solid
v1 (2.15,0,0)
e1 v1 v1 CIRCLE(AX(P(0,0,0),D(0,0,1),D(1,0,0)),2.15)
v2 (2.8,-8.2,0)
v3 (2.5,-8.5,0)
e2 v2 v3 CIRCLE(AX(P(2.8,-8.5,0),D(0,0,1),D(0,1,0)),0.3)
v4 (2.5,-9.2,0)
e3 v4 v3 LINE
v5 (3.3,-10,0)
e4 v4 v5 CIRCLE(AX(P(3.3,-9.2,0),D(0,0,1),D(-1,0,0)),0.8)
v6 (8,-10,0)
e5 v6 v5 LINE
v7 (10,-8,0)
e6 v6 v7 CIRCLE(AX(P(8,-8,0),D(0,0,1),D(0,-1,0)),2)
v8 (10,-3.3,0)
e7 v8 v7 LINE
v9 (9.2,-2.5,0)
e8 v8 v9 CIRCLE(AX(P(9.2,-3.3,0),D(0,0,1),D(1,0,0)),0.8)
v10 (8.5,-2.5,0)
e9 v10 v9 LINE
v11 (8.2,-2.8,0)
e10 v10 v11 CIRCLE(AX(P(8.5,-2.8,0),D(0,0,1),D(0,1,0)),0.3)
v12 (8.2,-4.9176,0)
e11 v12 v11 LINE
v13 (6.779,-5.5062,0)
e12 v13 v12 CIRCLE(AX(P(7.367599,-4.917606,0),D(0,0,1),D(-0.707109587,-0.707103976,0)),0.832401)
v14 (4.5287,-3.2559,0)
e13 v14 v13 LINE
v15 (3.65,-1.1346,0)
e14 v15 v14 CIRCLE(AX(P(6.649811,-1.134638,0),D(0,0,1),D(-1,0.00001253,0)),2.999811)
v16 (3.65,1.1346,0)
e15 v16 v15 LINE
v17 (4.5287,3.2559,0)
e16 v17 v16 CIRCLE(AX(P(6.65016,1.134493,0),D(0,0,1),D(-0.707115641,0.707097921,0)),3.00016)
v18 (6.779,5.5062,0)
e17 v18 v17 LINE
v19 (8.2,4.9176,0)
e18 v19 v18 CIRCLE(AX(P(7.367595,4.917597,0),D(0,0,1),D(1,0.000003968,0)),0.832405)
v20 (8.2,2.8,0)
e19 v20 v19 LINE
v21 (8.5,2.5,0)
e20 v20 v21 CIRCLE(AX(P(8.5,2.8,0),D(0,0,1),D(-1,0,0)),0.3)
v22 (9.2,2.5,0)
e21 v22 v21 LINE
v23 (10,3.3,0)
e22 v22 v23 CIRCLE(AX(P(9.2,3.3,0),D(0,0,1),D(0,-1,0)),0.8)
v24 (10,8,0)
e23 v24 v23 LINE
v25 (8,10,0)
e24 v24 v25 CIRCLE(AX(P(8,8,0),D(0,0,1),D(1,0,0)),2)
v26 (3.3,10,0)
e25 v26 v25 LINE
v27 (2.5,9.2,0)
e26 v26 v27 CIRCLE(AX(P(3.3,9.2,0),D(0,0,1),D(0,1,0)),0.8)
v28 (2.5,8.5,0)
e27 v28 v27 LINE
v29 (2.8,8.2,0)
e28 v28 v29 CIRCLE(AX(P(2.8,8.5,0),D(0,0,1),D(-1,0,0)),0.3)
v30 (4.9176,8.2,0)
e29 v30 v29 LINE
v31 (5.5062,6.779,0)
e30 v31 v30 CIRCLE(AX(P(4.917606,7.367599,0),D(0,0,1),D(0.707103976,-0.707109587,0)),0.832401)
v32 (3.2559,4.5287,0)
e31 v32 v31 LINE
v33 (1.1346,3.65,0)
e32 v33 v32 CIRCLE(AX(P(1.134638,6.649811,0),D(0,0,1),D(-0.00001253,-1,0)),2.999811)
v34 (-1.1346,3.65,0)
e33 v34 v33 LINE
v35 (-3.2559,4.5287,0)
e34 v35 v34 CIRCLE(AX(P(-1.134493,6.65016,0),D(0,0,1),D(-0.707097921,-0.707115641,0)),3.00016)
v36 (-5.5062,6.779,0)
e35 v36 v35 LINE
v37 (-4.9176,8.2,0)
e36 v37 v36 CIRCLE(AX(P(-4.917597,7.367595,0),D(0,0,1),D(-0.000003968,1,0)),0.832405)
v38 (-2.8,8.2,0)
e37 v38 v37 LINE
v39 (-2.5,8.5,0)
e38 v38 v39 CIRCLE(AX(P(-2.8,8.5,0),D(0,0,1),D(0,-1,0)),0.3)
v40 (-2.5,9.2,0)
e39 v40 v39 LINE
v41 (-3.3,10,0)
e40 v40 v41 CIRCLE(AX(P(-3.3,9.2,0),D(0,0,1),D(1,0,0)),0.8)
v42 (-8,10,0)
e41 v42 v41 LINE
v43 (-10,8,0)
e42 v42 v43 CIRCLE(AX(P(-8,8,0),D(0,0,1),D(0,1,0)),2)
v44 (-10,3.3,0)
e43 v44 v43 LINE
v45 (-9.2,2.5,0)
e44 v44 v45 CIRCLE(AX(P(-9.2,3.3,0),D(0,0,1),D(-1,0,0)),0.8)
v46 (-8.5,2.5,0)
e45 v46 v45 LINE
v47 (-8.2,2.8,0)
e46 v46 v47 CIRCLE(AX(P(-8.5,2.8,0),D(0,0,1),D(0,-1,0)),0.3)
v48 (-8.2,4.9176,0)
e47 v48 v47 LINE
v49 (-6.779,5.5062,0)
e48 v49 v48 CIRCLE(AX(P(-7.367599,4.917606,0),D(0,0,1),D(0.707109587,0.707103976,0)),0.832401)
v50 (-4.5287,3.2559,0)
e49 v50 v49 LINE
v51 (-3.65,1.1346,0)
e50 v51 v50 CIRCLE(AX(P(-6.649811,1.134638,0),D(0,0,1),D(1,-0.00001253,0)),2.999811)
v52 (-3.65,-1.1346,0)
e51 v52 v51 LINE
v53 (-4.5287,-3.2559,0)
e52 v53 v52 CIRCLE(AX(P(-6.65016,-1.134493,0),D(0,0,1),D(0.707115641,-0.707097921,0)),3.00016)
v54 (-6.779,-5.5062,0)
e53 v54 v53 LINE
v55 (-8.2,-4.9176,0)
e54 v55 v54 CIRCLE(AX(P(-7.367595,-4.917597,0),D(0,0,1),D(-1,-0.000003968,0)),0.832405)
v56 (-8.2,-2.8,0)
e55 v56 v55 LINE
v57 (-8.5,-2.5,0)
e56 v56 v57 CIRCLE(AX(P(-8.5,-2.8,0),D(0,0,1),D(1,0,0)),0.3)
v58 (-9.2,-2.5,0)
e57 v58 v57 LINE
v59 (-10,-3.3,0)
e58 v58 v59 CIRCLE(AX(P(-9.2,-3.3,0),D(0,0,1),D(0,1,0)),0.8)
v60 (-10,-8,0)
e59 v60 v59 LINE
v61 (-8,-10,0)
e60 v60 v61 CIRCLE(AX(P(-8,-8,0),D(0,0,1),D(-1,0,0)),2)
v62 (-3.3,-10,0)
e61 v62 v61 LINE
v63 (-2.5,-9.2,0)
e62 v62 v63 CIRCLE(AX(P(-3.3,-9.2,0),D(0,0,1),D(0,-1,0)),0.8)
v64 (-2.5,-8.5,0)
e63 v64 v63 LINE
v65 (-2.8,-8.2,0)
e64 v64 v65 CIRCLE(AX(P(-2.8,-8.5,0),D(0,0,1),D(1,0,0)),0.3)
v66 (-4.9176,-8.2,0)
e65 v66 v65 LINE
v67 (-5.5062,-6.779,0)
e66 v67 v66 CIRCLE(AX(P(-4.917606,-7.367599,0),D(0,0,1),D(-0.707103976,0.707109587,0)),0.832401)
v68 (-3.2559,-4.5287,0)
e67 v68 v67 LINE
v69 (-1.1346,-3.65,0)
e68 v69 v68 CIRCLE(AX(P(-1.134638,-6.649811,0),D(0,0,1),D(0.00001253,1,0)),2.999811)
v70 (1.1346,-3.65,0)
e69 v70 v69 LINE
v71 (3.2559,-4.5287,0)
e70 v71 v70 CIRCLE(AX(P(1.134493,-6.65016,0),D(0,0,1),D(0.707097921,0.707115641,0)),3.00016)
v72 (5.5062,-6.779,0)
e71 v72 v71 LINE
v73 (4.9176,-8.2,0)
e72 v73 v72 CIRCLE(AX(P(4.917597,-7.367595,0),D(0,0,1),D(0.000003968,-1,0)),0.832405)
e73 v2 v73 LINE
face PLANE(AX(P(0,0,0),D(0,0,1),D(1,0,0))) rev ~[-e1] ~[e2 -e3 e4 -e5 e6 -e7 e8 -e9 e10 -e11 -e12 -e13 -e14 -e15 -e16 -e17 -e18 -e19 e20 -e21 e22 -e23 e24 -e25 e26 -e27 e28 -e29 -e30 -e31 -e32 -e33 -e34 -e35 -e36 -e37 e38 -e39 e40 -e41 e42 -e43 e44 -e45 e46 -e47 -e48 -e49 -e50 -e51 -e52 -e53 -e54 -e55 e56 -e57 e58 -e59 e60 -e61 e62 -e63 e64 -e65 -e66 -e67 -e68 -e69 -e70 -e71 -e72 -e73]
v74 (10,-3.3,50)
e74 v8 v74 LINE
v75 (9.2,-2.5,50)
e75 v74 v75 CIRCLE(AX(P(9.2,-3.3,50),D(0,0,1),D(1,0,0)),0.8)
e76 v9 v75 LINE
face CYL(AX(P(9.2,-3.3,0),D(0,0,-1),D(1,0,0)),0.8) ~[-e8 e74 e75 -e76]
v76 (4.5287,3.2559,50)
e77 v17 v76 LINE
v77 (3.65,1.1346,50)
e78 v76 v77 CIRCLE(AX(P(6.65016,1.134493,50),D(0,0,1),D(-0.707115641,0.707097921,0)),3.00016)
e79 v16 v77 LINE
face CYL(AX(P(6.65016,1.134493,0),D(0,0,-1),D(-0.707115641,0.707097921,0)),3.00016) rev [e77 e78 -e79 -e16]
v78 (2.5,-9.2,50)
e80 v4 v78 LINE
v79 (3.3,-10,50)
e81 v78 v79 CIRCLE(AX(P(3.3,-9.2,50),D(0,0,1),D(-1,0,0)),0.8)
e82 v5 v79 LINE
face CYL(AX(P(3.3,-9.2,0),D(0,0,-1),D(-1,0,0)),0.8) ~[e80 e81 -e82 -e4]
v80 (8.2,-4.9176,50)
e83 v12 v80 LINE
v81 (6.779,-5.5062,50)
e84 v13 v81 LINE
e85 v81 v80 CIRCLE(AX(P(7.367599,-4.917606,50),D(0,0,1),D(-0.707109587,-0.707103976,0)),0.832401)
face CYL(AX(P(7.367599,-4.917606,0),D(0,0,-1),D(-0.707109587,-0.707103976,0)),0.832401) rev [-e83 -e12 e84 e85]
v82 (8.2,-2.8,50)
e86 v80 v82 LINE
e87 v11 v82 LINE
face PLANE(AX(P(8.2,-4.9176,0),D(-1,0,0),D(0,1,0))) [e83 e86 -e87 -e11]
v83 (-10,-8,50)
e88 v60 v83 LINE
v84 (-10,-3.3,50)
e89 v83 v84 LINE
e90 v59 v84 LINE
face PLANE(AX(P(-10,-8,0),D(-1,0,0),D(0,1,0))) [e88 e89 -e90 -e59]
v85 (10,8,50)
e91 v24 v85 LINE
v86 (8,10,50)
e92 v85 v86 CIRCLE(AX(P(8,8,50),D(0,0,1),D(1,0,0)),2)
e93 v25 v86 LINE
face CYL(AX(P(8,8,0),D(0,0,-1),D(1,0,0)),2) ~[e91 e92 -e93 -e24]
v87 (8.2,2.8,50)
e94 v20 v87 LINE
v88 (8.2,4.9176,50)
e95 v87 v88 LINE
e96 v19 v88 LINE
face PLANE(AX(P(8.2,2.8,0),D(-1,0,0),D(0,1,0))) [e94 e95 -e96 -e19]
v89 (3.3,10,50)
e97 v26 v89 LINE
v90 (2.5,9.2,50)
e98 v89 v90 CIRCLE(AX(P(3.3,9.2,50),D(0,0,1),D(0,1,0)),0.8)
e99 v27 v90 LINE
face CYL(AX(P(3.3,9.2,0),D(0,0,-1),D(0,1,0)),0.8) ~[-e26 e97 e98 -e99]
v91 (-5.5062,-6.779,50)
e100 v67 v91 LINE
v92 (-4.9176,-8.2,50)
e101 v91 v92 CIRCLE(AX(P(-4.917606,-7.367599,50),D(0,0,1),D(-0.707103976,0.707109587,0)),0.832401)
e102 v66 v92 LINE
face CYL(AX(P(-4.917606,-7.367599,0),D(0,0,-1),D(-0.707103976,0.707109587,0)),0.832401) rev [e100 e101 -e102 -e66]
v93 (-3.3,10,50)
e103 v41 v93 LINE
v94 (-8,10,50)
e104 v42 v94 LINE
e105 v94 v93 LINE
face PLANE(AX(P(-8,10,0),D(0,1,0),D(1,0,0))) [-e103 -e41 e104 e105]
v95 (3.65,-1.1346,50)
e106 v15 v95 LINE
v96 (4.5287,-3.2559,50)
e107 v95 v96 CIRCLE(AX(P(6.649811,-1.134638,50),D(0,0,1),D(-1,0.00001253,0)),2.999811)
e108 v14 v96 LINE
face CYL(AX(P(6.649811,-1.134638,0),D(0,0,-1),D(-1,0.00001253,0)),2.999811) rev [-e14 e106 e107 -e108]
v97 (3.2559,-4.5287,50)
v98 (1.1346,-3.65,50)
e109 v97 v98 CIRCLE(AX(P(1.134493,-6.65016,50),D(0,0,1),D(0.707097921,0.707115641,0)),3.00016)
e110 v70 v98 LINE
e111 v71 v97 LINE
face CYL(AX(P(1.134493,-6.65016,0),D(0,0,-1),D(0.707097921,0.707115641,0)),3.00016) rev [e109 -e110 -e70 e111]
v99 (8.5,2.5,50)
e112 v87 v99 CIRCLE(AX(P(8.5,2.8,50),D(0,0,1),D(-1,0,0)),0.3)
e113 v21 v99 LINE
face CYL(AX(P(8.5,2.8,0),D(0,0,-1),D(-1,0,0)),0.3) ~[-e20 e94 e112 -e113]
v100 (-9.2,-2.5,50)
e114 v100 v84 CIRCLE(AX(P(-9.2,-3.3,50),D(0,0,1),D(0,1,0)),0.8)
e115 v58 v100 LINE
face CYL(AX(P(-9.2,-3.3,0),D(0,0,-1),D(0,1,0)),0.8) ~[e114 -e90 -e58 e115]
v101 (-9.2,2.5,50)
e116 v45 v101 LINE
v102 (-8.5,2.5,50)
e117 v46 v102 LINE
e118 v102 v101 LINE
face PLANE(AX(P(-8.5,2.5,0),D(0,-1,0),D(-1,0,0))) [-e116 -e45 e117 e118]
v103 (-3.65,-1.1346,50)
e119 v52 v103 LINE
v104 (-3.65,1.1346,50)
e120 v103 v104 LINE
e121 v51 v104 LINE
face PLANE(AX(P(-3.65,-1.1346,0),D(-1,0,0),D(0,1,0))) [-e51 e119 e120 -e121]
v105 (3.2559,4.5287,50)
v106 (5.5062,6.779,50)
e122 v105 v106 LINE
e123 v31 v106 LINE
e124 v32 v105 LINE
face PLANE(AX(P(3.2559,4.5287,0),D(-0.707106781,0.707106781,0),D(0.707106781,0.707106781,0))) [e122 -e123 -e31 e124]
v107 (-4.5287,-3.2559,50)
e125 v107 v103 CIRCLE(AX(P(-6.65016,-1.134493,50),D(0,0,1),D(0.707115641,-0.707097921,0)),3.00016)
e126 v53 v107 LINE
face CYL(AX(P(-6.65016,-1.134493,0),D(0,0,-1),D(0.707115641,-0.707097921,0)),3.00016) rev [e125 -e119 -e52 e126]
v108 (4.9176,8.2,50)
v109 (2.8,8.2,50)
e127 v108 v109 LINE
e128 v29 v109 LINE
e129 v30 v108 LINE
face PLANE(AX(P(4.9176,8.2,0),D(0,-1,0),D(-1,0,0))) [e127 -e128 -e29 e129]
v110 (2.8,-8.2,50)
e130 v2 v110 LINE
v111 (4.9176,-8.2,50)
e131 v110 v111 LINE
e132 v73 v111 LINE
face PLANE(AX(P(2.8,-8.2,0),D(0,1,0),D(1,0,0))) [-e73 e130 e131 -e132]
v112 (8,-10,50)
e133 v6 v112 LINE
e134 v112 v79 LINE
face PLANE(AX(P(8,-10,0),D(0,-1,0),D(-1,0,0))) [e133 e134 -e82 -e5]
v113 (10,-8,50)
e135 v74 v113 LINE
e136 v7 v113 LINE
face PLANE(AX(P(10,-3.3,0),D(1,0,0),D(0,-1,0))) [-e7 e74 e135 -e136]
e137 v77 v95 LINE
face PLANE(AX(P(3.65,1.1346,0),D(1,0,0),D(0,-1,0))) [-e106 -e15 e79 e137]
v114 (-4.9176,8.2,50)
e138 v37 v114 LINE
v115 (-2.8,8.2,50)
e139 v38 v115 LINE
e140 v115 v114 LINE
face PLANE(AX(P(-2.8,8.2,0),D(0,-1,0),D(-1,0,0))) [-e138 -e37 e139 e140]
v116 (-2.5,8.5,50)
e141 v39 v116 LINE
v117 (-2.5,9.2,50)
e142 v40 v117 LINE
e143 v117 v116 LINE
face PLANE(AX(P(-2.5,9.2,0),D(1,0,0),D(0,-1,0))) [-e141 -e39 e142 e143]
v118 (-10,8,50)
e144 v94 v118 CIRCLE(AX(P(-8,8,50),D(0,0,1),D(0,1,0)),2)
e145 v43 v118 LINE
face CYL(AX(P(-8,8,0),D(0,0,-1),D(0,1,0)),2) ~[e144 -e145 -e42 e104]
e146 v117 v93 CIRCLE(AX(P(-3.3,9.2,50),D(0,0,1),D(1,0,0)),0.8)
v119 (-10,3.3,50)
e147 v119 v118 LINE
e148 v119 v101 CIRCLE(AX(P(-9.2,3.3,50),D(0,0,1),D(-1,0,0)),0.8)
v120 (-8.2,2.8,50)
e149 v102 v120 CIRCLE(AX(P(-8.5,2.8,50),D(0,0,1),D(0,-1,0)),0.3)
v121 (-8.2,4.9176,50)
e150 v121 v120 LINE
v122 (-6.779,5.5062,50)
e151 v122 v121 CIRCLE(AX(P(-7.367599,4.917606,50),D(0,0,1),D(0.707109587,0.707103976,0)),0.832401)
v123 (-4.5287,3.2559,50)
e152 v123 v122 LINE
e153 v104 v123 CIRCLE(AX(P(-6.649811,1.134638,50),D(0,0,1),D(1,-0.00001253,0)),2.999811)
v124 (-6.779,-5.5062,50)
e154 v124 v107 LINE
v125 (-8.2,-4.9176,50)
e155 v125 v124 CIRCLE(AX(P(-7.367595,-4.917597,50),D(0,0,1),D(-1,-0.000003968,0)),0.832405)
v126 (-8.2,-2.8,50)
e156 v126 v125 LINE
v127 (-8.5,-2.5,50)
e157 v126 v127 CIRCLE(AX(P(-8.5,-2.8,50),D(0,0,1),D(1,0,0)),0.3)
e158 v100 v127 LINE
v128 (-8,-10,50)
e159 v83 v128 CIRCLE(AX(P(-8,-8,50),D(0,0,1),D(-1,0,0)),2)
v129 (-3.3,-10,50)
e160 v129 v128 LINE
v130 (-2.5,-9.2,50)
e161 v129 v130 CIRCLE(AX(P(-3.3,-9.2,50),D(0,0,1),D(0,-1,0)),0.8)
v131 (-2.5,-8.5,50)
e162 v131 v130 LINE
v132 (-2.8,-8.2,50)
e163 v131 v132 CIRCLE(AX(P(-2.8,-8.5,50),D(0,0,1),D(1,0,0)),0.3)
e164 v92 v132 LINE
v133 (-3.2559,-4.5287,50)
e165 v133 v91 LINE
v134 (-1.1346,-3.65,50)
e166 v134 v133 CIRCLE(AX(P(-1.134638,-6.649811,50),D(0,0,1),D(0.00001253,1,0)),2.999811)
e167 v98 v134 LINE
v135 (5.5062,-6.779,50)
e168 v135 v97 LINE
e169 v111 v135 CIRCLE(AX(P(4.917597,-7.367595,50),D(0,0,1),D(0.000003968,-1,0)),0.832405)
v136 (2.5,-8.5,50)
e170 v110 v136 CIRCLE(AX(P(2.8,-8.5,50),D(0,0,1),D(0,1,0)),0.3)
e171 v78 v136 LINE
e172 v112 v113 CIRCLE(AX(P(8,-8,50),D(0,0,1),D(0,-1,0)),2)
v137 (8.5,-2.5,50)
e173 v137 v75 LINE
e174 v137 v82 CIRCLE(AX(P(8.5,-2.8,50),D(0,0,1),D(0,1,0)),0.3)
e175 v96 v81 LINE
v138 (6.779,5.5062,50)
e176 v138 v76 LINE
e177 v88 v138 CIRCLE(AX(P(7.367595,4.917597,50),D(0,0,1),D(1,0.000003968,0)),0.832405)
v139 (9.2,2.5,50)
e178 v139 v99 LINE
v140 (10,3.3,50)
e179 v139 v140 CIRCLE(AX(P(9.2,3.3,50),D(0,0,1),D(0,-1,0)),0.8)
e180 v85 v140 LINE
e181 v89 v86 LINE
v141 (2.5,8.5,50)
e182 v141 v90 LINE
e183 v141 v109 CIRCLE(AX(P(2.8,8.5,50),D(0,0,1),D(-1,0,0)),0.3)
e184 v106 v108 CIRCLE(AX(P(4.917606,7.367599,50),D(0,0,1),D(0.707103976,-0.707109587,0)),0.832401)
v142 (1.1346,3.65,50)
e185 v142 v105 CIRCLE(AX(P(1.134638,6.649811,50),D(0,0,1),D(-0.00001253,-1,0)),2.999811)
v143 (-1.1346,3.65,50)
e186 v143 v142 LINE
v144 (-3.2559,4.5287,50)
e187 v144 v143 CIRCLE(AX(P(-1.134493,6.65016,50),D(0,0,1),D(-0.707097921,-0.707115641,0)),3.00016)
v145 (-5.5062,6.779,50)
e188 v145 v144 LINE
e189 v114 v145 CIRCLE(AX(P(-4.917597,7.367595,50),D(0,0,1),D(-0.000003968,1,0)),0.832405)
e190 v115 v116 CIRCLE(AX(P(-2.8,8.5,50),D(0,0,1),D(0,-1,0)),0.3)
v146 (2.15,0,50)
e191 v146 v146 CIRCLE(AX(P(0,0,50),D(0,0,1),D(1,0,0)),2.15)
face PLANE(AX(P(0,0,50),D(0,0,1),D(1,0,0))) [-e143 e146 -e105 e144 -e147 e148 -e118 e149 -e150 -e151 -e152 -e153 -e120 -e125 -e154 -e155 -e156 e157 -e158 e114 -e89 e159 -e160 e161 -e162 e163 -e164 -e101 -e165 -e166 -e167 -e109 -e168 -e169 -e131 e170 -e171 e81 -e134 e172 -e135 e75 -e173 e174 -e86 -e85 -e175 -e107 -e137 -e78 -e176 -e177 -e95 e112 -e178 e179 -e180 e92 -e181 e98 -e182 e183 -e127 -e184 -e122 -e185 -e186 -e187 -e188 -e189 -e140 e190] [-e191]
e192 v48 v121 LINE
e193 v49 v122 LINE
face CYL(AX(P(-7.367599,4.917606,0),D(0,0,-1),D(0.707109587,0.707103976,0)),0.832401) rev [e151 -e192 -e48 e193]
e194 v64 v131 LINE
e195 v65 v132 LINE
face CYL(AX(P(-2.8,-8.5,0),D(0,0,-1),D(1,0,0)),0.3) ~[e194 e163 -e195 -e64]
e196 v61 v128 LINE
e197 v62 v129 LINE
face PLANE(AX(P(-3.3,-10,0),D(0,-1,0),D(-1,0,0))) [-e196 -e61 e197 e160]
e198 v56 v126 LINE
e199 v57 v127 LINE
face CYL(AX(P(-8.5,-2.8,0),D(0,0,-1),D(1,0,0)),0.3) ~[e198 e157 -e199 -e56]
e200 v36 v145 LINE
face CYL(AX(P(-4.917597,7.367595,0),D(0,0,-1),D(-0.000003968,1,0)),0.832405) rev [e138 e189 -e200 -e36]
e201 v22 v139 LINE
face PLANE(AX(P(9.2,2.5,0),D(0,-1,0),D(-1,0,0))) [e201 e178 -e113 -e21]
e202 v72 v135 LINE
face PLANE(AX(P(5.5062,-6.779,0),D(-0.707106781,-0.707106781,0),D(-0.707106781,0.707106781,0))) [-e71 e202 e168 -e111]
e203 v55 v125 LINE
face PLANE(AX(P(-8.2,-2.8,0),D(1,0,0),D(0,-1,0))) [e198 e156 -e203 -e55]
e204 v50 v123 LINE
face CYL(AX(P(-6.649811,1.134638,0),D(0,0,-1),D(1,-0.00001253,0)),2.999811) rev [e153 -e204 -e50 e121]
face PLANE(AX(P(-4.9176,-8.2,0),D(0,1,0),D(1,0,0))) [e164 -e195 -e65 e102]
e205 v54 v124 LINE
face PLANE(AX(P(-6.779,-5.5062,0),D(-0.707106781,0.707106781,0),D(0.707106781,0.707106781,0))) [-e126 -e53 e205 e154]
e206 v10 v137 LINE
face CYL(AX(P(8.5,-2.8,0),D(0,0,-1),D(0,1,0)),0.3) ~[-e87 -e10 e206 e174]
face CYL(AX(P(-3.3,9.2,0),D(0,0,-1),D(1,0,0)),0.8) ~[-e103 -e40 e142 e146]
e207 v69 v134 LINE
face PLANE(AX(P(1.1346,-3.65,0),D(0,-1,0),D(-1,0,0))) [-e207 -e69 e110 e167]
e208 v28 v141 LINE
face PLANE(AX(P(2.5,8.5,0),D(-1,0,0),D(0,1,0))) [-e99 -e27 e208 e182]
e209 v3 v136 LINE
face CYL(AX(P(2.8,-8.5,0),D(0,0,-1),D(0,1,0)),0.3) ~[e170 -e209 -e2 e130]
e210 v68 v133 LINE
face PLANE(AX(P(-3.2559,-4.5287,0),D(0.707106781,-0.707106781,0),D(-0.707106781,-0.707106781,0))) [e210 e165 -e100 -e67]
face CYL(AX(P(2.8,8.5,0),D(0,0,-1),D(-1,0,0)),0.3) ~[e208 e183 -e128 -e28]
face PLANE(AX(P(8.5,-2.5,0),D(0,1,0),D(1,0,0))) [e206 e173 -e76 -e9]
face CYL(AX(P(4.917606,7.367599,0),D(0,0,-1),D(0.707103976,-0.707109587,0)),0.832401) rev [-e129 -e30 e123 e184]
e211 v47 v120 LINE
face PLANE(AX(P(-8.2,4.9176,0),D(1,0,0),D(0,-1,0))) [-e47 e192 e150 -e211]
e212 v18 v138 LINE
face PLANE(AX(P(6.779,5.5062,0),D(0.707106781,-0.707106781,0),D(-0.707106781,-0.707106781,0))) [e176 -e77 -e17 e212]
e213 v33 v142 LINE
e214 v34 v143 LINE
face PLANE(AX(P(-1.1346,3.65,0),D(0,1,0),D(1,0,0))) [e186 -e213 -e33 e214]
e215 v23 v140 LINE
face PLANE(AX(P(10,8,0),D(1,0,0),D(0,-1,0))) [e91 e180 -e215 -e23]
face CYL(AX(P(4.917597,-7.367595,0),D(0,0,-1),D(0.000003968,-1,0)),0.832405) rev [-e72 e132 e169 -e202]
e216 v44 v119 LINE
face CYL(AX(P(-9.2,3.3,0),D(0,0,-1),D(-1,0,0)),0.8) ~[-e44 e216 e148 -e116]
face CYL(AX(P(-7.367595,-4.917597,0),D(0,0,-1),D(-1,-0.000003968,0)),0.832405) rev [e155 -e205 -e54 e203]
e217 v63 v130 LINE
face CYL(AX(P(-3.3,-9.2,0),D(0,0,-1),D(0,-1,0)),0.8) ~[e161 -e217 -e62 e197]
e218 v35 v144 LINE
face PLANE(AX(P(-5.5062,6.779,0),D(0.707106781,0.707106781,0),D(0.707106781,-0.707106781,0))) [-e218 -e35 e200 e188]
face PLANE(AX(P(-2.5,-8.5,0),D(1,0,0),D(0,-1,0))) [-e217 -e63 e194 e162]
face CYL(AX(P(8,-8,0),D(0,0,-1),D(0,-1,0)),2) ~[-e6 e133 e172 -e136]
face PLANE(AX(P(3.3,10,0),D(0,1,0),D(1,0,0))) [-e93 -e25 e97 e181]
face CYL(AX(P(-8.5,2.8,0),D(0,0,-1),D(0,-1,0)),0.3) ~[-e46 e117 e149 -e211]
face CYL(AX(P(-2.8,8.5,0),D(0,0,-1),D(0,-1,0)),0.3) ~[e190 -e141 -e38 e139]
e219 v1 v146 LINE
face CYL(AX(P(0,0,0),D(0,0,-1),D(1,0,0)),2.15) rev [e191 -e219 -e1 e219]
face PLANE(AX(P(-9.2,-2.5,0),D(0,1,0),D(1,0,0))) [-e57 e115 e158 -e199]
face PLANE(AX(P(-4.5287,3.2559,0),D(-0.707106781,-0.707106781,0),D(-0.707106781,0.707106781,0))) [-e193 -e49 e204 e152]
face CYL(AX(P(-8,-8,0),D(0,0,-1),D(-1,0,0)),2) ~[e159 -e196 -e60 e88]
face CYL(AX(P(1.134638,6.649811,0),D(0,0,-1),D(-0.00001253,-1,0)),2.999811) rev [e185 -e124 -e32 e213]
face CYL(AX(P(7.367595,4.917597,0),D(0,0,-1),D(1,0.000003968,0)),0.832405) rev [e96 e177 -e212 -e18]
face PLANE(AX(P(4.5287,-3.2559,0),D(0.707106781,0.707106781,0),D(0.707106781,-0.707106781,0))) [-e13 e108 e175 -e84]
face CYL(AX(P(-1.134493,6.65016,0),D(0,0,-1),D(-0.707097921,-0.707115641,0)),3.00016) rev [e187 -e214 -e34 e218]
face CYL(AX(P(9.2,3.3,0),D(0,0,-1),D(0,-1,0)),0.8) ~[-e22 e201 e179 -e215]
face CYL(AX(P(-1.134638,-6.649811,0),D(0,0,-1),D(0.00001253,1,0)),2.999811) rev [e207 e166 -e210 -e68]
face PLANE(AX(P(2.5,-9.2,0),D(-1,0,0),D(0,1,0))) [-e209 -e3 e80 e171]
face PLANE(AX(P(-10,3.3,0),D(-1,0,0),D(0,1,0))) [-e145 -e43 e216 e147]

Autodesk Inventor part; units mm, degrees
ref_plane "YZ Plane" through (0, 0, 0) normal (1, 0, 0) x (0, 1, 0)
ref_plane "Startebene" through (0, 0, 0) normal (0, 0, 1) x (1, 0, 0)
ref_plane "Endebene" through (0, 0, 50) normal (0, 0, 1) x (1, 0, 0)
sketch "Skizze3" plane through (0, 0, 0) normal (0, 0, 1) x (1, 0, 0)
  arc A0 (-4.5287, -3.2559) -> (-3.65, -1.1346) centre (-6.65, -1.1346) ccw
  line L0 (-3.65, -1.1346) -> (-3.65, 1.1346)
  circle A1 centre (0, 0) radius 2.15
  line L1 (1.1346, -3.65) -> (-1.1346, -3.65)
  arc A2 (-1.1346, -3.65) -> (-3.2559, -4.5287) centre (-1.1346, -6.65) ccw
  line L2 (-6.779, -5.5062) -> (-4.5287, -3.2559)
  line L3 (-3.2559, -4.5287) -> (-5.5062, -6.779)
  arc A3 (-2.5, -8.5) -> (-2.8, -8.2) centre (-2.8, -8.5) ccw
  line L4 (-2.5, -8.5) -> (-2.5, -9.2)
  line L5 (-4.9176, -8.2) -> (-2.8, -8.2)
  arc A4 (-5.5062, -6.779) -> (-4.9176, -8.2) centre (-4.9176, -7.3676) ccw
  arc A5 (-3.3, -10) -> (-2.5, -9.2) centre (-3.3, -9.2) ccw
  line L6 (-3.3, -10) -> (-8, -10)
  line L7 (10, -3.3) -> (10, -8)
  line L8 (5.5062, -6.779) -> (3.2559, -4.5287)
  arc A6 (6.779, -5.5062) -> (8.2, -4.9176) centre (7.3676, -4.9176) ccw
  arc A7 (3.2559, -4.5287) -> (1.1346, -3.65) centre (1.1346, -6.65) ccw
  line L9 (4.5287, -3.2559) -> (6.779, -5.5062)
  arc A8 (3.65, -1.1346) -> (4.5287, -3.2559) centre (6.65, -1.1346) ccw
  arc A9 (8.5, -2.5) -> (8.2, -2.8) centre (8.5, -2.8) ccw
  line L10 (3.65, 1.1346) -> (3.65, -1.1346)
  line L11 (8.5, -2.5) -> (9.2, -2.5)
  arc A10 (10, -3.3) -> (9.2, -2.5) centre (9.2, -3.3) ccw
  line L12 (8.2, -4.9176) -> (8.2, -2.8)
  line L13 (2.5, 8.5) -> (2.5, 9.2)
  arc A11 (2.5, 8.5) -> (2.8, 8.2) centre (2.8, 8.5) ccw
  arc A12 (1.1346, 3.65) -> (3.2559, 4.5287) centre (1.1346, 6.65) ccw
  line L14 (-1.1346, 3.65) -> (1.1346, 3.65)
  arc A13 (3.3, 10) -> (2.5, 9.2) centre (3.3, 9.2) ccw
  line L15 (4.9176, 8.2) -> (2.8, 8.2)
  arc A14 (4.5287, 3.2559) -> (3.65, 1.1346) centre (6.65, 1.1346) ccw
  line L16 (3.2559, 4.5287) -> (5.5062, 6.779)
  arc A15 (5.5062, 6.779) -> (4.9176, 8.2) centre (4.9176, 7.3676) ccw
  line L17 (6.779, 5.5062) -> (4.5287, 3.2559)
  line L18 (3.3, 10) -> (8, 10)
  arc A16 (10, 8) -> (8, 10) centre (8, 8) ccw
  line L19 (8.2, 2.8) -> (8.2, 4.9176)
  line L20 (10, 8) -> (10, 3.3)
  arc A17 (8.2, 4.9176) -> (6.779, 5.5062) centre (7.3676, 4.9176) ccw
  line L21 (-2.8, 8.2) -> (-4.9176, 8.2)
  line L22 (-2.5, 9.2) -> (-2.5, 8.5)
  arc A18 (-2.5, 9.2) -> (-3.3, 10) centre (-3.3, 9.2) ccw
  arc A19 (-2.8, 8.2) -> (-2.5, 8.5) centre (-2.8, 8.5) ccw
  arc A20 (-3.65, 1.1346) -> (-4.5287, 3.2559) centre (-6.65, 1.1346) ccw
  arc A21 (-3.2559, 4.5287) -> (-1.1346, 3.65) centre (-1.1346, 6.65) ccw
  arc A22 (4.9176, -8.2) -> (5.5062, -6.779) centre (4.9176, -7.3676) ccw
  arc A23 (8, -10) -> (10, -8) centre (8, -8) ccw
  line L23 (2.8, -8.2) -> (4.9176, -8.2)
  line L24 (8, -10) -> (3.3, -10)
  arc A24 (2.8, -8.2) -> (2.5, -8.5) centre (2.8, -8.5) ccw
  arc A25 (2.5, -9.2) -> (3.3, -10) centre (3.3, -9.2) ccw
  line L25 (2.5, -9.2) -> (2.5, -8.5)
  arc A26 (8.2, 2.8) -> (8.5, 2.5) centre (8.5, 2.8) ccw
  line L26 (9.2, 2.5) -> (8.5, 2.5)
  arc A27 (9.2, 2.5) -> (10, 3.3) centre (9.2, 3.3) ccw
  arc A28 (-4.9176, 8.2) -> (-5.5062, 6.779) centre (-4.9176, 7.3676) ccw
  line L27 (-8, 10) -> (-3.3, 10)
  line L28 (-5.5062, 6.779) -> (-3.2559, 4.5287)
  arc A29 (-8, 10) -> (-10, 8) centre (-8, 8) ccw
  arc A30 (-6.779, 5.5062) -> (-8.2, 4.9176) centre (-7.3676, 4.9176) ccw
  line L29 (-10, 3.3) -> (-10, 8)
  line L30 (-8.2, 4.9176) -> (-8.2, 2.8)
  arc A31 (-8.5, 2.5) -> (-8.2, 2.8) centre (-8.5, 2.8) ccw
  line L31 (-8.5, 2.5) -> (-9.2, 2.5)
  arc A32 (-10, 3.3) -> (-9.2, 2.5) centre (-9.2, 3.3) ccw
  line L32 (-4.5287, 3.2559) -> (-6.779, 5.5062)
  line L33 (-10, -8) -> (-10, -3.3)
  arc A33 (-8.2, -4.9176) -> (-6.779, -5.5062) centre (-7.3676, -4.9176) ccw
  arc A34 (-10, -8) -> (-8, -10) centre (-8, -8) ccw
  line L34 (-10, -8) -> (-10, -3.3)
  arc A35 (-8.2, -2.8) -> (-8.5, -2.5) centre (-8.5, -2.8) ccw
  line L35 (-9.2, -2.5) -> (-8.5, -2.5)
  arc A36 (-9.2, -2.5) -> (-10, -3.3) centre (-9.2, -3.3) ccw
  line L36 (-8.2, -2.8) -> (-8.2, -4.9176)
  dimension "d4" = 4.3
  dimension "d5" = 6.35
  dimension "d6" = 10
  dimension "d7" = 2.5
  dimension "d8" = 5.8
  dimension "d9" = 10.5
  dimension "d10" = 3
  dimension "d11" = 7.5
  dimension "d12" = 12.5
  dimension "d13" = 13.65
  dimension "d14" = 5.7
  dimension "d15" = 10.7
  dimension "d16" = 1.15
  dimension "d17" = 6.15
  dimension "d18" = 1.8
  dimension "d19" = 0.8
  dimension "d20" = 0.3
  dimension "d21" = 2
  dimension "d22" = 0.8324
  dimension "d23" = 45
  dimension "d24" = 90
  dimension "d25" = 90
  dimension "d26" = 1.8
  dimension "d27" = 18.2
  dimension "d28" = 20
  dimension "d29" = 5
  dimension "d30" = 7.5
  dimension "d31" = 1.8
  dimension "d32" = 0.9
  dimension "d33" = 0.9
  dimension "d34" = 20
extrude "Körper" add sketch "Skizze3" along normal up to surface (50 mm away) from surface at 0
sketch "Skizze6" plane through (0, 0, 0) normal (0, 0, 1) x (1, 0, 0)
  line L0 (0, 0) -> (10, 0)
ref_plane "Arbeitsebene4" through (0, 0, 0) normal (0, -1, 0) x (1, 0, 0)
sketch "Skizze7" plane through (0, 0, 0) normal (0, -1, 0) x (1, 0, 0)
  line L0 (-14, 0) -> (14, 0)
  line L1 (-14, 50) -> (14, 50)
  dimension "d43" = 50
equation "\"G_OFFSET_START\" = 0"
equation "\"G_OFFSET_END\" = 0"
equation "\"G_L\" = d43"
properties part number "BT001_trajan20_22"
